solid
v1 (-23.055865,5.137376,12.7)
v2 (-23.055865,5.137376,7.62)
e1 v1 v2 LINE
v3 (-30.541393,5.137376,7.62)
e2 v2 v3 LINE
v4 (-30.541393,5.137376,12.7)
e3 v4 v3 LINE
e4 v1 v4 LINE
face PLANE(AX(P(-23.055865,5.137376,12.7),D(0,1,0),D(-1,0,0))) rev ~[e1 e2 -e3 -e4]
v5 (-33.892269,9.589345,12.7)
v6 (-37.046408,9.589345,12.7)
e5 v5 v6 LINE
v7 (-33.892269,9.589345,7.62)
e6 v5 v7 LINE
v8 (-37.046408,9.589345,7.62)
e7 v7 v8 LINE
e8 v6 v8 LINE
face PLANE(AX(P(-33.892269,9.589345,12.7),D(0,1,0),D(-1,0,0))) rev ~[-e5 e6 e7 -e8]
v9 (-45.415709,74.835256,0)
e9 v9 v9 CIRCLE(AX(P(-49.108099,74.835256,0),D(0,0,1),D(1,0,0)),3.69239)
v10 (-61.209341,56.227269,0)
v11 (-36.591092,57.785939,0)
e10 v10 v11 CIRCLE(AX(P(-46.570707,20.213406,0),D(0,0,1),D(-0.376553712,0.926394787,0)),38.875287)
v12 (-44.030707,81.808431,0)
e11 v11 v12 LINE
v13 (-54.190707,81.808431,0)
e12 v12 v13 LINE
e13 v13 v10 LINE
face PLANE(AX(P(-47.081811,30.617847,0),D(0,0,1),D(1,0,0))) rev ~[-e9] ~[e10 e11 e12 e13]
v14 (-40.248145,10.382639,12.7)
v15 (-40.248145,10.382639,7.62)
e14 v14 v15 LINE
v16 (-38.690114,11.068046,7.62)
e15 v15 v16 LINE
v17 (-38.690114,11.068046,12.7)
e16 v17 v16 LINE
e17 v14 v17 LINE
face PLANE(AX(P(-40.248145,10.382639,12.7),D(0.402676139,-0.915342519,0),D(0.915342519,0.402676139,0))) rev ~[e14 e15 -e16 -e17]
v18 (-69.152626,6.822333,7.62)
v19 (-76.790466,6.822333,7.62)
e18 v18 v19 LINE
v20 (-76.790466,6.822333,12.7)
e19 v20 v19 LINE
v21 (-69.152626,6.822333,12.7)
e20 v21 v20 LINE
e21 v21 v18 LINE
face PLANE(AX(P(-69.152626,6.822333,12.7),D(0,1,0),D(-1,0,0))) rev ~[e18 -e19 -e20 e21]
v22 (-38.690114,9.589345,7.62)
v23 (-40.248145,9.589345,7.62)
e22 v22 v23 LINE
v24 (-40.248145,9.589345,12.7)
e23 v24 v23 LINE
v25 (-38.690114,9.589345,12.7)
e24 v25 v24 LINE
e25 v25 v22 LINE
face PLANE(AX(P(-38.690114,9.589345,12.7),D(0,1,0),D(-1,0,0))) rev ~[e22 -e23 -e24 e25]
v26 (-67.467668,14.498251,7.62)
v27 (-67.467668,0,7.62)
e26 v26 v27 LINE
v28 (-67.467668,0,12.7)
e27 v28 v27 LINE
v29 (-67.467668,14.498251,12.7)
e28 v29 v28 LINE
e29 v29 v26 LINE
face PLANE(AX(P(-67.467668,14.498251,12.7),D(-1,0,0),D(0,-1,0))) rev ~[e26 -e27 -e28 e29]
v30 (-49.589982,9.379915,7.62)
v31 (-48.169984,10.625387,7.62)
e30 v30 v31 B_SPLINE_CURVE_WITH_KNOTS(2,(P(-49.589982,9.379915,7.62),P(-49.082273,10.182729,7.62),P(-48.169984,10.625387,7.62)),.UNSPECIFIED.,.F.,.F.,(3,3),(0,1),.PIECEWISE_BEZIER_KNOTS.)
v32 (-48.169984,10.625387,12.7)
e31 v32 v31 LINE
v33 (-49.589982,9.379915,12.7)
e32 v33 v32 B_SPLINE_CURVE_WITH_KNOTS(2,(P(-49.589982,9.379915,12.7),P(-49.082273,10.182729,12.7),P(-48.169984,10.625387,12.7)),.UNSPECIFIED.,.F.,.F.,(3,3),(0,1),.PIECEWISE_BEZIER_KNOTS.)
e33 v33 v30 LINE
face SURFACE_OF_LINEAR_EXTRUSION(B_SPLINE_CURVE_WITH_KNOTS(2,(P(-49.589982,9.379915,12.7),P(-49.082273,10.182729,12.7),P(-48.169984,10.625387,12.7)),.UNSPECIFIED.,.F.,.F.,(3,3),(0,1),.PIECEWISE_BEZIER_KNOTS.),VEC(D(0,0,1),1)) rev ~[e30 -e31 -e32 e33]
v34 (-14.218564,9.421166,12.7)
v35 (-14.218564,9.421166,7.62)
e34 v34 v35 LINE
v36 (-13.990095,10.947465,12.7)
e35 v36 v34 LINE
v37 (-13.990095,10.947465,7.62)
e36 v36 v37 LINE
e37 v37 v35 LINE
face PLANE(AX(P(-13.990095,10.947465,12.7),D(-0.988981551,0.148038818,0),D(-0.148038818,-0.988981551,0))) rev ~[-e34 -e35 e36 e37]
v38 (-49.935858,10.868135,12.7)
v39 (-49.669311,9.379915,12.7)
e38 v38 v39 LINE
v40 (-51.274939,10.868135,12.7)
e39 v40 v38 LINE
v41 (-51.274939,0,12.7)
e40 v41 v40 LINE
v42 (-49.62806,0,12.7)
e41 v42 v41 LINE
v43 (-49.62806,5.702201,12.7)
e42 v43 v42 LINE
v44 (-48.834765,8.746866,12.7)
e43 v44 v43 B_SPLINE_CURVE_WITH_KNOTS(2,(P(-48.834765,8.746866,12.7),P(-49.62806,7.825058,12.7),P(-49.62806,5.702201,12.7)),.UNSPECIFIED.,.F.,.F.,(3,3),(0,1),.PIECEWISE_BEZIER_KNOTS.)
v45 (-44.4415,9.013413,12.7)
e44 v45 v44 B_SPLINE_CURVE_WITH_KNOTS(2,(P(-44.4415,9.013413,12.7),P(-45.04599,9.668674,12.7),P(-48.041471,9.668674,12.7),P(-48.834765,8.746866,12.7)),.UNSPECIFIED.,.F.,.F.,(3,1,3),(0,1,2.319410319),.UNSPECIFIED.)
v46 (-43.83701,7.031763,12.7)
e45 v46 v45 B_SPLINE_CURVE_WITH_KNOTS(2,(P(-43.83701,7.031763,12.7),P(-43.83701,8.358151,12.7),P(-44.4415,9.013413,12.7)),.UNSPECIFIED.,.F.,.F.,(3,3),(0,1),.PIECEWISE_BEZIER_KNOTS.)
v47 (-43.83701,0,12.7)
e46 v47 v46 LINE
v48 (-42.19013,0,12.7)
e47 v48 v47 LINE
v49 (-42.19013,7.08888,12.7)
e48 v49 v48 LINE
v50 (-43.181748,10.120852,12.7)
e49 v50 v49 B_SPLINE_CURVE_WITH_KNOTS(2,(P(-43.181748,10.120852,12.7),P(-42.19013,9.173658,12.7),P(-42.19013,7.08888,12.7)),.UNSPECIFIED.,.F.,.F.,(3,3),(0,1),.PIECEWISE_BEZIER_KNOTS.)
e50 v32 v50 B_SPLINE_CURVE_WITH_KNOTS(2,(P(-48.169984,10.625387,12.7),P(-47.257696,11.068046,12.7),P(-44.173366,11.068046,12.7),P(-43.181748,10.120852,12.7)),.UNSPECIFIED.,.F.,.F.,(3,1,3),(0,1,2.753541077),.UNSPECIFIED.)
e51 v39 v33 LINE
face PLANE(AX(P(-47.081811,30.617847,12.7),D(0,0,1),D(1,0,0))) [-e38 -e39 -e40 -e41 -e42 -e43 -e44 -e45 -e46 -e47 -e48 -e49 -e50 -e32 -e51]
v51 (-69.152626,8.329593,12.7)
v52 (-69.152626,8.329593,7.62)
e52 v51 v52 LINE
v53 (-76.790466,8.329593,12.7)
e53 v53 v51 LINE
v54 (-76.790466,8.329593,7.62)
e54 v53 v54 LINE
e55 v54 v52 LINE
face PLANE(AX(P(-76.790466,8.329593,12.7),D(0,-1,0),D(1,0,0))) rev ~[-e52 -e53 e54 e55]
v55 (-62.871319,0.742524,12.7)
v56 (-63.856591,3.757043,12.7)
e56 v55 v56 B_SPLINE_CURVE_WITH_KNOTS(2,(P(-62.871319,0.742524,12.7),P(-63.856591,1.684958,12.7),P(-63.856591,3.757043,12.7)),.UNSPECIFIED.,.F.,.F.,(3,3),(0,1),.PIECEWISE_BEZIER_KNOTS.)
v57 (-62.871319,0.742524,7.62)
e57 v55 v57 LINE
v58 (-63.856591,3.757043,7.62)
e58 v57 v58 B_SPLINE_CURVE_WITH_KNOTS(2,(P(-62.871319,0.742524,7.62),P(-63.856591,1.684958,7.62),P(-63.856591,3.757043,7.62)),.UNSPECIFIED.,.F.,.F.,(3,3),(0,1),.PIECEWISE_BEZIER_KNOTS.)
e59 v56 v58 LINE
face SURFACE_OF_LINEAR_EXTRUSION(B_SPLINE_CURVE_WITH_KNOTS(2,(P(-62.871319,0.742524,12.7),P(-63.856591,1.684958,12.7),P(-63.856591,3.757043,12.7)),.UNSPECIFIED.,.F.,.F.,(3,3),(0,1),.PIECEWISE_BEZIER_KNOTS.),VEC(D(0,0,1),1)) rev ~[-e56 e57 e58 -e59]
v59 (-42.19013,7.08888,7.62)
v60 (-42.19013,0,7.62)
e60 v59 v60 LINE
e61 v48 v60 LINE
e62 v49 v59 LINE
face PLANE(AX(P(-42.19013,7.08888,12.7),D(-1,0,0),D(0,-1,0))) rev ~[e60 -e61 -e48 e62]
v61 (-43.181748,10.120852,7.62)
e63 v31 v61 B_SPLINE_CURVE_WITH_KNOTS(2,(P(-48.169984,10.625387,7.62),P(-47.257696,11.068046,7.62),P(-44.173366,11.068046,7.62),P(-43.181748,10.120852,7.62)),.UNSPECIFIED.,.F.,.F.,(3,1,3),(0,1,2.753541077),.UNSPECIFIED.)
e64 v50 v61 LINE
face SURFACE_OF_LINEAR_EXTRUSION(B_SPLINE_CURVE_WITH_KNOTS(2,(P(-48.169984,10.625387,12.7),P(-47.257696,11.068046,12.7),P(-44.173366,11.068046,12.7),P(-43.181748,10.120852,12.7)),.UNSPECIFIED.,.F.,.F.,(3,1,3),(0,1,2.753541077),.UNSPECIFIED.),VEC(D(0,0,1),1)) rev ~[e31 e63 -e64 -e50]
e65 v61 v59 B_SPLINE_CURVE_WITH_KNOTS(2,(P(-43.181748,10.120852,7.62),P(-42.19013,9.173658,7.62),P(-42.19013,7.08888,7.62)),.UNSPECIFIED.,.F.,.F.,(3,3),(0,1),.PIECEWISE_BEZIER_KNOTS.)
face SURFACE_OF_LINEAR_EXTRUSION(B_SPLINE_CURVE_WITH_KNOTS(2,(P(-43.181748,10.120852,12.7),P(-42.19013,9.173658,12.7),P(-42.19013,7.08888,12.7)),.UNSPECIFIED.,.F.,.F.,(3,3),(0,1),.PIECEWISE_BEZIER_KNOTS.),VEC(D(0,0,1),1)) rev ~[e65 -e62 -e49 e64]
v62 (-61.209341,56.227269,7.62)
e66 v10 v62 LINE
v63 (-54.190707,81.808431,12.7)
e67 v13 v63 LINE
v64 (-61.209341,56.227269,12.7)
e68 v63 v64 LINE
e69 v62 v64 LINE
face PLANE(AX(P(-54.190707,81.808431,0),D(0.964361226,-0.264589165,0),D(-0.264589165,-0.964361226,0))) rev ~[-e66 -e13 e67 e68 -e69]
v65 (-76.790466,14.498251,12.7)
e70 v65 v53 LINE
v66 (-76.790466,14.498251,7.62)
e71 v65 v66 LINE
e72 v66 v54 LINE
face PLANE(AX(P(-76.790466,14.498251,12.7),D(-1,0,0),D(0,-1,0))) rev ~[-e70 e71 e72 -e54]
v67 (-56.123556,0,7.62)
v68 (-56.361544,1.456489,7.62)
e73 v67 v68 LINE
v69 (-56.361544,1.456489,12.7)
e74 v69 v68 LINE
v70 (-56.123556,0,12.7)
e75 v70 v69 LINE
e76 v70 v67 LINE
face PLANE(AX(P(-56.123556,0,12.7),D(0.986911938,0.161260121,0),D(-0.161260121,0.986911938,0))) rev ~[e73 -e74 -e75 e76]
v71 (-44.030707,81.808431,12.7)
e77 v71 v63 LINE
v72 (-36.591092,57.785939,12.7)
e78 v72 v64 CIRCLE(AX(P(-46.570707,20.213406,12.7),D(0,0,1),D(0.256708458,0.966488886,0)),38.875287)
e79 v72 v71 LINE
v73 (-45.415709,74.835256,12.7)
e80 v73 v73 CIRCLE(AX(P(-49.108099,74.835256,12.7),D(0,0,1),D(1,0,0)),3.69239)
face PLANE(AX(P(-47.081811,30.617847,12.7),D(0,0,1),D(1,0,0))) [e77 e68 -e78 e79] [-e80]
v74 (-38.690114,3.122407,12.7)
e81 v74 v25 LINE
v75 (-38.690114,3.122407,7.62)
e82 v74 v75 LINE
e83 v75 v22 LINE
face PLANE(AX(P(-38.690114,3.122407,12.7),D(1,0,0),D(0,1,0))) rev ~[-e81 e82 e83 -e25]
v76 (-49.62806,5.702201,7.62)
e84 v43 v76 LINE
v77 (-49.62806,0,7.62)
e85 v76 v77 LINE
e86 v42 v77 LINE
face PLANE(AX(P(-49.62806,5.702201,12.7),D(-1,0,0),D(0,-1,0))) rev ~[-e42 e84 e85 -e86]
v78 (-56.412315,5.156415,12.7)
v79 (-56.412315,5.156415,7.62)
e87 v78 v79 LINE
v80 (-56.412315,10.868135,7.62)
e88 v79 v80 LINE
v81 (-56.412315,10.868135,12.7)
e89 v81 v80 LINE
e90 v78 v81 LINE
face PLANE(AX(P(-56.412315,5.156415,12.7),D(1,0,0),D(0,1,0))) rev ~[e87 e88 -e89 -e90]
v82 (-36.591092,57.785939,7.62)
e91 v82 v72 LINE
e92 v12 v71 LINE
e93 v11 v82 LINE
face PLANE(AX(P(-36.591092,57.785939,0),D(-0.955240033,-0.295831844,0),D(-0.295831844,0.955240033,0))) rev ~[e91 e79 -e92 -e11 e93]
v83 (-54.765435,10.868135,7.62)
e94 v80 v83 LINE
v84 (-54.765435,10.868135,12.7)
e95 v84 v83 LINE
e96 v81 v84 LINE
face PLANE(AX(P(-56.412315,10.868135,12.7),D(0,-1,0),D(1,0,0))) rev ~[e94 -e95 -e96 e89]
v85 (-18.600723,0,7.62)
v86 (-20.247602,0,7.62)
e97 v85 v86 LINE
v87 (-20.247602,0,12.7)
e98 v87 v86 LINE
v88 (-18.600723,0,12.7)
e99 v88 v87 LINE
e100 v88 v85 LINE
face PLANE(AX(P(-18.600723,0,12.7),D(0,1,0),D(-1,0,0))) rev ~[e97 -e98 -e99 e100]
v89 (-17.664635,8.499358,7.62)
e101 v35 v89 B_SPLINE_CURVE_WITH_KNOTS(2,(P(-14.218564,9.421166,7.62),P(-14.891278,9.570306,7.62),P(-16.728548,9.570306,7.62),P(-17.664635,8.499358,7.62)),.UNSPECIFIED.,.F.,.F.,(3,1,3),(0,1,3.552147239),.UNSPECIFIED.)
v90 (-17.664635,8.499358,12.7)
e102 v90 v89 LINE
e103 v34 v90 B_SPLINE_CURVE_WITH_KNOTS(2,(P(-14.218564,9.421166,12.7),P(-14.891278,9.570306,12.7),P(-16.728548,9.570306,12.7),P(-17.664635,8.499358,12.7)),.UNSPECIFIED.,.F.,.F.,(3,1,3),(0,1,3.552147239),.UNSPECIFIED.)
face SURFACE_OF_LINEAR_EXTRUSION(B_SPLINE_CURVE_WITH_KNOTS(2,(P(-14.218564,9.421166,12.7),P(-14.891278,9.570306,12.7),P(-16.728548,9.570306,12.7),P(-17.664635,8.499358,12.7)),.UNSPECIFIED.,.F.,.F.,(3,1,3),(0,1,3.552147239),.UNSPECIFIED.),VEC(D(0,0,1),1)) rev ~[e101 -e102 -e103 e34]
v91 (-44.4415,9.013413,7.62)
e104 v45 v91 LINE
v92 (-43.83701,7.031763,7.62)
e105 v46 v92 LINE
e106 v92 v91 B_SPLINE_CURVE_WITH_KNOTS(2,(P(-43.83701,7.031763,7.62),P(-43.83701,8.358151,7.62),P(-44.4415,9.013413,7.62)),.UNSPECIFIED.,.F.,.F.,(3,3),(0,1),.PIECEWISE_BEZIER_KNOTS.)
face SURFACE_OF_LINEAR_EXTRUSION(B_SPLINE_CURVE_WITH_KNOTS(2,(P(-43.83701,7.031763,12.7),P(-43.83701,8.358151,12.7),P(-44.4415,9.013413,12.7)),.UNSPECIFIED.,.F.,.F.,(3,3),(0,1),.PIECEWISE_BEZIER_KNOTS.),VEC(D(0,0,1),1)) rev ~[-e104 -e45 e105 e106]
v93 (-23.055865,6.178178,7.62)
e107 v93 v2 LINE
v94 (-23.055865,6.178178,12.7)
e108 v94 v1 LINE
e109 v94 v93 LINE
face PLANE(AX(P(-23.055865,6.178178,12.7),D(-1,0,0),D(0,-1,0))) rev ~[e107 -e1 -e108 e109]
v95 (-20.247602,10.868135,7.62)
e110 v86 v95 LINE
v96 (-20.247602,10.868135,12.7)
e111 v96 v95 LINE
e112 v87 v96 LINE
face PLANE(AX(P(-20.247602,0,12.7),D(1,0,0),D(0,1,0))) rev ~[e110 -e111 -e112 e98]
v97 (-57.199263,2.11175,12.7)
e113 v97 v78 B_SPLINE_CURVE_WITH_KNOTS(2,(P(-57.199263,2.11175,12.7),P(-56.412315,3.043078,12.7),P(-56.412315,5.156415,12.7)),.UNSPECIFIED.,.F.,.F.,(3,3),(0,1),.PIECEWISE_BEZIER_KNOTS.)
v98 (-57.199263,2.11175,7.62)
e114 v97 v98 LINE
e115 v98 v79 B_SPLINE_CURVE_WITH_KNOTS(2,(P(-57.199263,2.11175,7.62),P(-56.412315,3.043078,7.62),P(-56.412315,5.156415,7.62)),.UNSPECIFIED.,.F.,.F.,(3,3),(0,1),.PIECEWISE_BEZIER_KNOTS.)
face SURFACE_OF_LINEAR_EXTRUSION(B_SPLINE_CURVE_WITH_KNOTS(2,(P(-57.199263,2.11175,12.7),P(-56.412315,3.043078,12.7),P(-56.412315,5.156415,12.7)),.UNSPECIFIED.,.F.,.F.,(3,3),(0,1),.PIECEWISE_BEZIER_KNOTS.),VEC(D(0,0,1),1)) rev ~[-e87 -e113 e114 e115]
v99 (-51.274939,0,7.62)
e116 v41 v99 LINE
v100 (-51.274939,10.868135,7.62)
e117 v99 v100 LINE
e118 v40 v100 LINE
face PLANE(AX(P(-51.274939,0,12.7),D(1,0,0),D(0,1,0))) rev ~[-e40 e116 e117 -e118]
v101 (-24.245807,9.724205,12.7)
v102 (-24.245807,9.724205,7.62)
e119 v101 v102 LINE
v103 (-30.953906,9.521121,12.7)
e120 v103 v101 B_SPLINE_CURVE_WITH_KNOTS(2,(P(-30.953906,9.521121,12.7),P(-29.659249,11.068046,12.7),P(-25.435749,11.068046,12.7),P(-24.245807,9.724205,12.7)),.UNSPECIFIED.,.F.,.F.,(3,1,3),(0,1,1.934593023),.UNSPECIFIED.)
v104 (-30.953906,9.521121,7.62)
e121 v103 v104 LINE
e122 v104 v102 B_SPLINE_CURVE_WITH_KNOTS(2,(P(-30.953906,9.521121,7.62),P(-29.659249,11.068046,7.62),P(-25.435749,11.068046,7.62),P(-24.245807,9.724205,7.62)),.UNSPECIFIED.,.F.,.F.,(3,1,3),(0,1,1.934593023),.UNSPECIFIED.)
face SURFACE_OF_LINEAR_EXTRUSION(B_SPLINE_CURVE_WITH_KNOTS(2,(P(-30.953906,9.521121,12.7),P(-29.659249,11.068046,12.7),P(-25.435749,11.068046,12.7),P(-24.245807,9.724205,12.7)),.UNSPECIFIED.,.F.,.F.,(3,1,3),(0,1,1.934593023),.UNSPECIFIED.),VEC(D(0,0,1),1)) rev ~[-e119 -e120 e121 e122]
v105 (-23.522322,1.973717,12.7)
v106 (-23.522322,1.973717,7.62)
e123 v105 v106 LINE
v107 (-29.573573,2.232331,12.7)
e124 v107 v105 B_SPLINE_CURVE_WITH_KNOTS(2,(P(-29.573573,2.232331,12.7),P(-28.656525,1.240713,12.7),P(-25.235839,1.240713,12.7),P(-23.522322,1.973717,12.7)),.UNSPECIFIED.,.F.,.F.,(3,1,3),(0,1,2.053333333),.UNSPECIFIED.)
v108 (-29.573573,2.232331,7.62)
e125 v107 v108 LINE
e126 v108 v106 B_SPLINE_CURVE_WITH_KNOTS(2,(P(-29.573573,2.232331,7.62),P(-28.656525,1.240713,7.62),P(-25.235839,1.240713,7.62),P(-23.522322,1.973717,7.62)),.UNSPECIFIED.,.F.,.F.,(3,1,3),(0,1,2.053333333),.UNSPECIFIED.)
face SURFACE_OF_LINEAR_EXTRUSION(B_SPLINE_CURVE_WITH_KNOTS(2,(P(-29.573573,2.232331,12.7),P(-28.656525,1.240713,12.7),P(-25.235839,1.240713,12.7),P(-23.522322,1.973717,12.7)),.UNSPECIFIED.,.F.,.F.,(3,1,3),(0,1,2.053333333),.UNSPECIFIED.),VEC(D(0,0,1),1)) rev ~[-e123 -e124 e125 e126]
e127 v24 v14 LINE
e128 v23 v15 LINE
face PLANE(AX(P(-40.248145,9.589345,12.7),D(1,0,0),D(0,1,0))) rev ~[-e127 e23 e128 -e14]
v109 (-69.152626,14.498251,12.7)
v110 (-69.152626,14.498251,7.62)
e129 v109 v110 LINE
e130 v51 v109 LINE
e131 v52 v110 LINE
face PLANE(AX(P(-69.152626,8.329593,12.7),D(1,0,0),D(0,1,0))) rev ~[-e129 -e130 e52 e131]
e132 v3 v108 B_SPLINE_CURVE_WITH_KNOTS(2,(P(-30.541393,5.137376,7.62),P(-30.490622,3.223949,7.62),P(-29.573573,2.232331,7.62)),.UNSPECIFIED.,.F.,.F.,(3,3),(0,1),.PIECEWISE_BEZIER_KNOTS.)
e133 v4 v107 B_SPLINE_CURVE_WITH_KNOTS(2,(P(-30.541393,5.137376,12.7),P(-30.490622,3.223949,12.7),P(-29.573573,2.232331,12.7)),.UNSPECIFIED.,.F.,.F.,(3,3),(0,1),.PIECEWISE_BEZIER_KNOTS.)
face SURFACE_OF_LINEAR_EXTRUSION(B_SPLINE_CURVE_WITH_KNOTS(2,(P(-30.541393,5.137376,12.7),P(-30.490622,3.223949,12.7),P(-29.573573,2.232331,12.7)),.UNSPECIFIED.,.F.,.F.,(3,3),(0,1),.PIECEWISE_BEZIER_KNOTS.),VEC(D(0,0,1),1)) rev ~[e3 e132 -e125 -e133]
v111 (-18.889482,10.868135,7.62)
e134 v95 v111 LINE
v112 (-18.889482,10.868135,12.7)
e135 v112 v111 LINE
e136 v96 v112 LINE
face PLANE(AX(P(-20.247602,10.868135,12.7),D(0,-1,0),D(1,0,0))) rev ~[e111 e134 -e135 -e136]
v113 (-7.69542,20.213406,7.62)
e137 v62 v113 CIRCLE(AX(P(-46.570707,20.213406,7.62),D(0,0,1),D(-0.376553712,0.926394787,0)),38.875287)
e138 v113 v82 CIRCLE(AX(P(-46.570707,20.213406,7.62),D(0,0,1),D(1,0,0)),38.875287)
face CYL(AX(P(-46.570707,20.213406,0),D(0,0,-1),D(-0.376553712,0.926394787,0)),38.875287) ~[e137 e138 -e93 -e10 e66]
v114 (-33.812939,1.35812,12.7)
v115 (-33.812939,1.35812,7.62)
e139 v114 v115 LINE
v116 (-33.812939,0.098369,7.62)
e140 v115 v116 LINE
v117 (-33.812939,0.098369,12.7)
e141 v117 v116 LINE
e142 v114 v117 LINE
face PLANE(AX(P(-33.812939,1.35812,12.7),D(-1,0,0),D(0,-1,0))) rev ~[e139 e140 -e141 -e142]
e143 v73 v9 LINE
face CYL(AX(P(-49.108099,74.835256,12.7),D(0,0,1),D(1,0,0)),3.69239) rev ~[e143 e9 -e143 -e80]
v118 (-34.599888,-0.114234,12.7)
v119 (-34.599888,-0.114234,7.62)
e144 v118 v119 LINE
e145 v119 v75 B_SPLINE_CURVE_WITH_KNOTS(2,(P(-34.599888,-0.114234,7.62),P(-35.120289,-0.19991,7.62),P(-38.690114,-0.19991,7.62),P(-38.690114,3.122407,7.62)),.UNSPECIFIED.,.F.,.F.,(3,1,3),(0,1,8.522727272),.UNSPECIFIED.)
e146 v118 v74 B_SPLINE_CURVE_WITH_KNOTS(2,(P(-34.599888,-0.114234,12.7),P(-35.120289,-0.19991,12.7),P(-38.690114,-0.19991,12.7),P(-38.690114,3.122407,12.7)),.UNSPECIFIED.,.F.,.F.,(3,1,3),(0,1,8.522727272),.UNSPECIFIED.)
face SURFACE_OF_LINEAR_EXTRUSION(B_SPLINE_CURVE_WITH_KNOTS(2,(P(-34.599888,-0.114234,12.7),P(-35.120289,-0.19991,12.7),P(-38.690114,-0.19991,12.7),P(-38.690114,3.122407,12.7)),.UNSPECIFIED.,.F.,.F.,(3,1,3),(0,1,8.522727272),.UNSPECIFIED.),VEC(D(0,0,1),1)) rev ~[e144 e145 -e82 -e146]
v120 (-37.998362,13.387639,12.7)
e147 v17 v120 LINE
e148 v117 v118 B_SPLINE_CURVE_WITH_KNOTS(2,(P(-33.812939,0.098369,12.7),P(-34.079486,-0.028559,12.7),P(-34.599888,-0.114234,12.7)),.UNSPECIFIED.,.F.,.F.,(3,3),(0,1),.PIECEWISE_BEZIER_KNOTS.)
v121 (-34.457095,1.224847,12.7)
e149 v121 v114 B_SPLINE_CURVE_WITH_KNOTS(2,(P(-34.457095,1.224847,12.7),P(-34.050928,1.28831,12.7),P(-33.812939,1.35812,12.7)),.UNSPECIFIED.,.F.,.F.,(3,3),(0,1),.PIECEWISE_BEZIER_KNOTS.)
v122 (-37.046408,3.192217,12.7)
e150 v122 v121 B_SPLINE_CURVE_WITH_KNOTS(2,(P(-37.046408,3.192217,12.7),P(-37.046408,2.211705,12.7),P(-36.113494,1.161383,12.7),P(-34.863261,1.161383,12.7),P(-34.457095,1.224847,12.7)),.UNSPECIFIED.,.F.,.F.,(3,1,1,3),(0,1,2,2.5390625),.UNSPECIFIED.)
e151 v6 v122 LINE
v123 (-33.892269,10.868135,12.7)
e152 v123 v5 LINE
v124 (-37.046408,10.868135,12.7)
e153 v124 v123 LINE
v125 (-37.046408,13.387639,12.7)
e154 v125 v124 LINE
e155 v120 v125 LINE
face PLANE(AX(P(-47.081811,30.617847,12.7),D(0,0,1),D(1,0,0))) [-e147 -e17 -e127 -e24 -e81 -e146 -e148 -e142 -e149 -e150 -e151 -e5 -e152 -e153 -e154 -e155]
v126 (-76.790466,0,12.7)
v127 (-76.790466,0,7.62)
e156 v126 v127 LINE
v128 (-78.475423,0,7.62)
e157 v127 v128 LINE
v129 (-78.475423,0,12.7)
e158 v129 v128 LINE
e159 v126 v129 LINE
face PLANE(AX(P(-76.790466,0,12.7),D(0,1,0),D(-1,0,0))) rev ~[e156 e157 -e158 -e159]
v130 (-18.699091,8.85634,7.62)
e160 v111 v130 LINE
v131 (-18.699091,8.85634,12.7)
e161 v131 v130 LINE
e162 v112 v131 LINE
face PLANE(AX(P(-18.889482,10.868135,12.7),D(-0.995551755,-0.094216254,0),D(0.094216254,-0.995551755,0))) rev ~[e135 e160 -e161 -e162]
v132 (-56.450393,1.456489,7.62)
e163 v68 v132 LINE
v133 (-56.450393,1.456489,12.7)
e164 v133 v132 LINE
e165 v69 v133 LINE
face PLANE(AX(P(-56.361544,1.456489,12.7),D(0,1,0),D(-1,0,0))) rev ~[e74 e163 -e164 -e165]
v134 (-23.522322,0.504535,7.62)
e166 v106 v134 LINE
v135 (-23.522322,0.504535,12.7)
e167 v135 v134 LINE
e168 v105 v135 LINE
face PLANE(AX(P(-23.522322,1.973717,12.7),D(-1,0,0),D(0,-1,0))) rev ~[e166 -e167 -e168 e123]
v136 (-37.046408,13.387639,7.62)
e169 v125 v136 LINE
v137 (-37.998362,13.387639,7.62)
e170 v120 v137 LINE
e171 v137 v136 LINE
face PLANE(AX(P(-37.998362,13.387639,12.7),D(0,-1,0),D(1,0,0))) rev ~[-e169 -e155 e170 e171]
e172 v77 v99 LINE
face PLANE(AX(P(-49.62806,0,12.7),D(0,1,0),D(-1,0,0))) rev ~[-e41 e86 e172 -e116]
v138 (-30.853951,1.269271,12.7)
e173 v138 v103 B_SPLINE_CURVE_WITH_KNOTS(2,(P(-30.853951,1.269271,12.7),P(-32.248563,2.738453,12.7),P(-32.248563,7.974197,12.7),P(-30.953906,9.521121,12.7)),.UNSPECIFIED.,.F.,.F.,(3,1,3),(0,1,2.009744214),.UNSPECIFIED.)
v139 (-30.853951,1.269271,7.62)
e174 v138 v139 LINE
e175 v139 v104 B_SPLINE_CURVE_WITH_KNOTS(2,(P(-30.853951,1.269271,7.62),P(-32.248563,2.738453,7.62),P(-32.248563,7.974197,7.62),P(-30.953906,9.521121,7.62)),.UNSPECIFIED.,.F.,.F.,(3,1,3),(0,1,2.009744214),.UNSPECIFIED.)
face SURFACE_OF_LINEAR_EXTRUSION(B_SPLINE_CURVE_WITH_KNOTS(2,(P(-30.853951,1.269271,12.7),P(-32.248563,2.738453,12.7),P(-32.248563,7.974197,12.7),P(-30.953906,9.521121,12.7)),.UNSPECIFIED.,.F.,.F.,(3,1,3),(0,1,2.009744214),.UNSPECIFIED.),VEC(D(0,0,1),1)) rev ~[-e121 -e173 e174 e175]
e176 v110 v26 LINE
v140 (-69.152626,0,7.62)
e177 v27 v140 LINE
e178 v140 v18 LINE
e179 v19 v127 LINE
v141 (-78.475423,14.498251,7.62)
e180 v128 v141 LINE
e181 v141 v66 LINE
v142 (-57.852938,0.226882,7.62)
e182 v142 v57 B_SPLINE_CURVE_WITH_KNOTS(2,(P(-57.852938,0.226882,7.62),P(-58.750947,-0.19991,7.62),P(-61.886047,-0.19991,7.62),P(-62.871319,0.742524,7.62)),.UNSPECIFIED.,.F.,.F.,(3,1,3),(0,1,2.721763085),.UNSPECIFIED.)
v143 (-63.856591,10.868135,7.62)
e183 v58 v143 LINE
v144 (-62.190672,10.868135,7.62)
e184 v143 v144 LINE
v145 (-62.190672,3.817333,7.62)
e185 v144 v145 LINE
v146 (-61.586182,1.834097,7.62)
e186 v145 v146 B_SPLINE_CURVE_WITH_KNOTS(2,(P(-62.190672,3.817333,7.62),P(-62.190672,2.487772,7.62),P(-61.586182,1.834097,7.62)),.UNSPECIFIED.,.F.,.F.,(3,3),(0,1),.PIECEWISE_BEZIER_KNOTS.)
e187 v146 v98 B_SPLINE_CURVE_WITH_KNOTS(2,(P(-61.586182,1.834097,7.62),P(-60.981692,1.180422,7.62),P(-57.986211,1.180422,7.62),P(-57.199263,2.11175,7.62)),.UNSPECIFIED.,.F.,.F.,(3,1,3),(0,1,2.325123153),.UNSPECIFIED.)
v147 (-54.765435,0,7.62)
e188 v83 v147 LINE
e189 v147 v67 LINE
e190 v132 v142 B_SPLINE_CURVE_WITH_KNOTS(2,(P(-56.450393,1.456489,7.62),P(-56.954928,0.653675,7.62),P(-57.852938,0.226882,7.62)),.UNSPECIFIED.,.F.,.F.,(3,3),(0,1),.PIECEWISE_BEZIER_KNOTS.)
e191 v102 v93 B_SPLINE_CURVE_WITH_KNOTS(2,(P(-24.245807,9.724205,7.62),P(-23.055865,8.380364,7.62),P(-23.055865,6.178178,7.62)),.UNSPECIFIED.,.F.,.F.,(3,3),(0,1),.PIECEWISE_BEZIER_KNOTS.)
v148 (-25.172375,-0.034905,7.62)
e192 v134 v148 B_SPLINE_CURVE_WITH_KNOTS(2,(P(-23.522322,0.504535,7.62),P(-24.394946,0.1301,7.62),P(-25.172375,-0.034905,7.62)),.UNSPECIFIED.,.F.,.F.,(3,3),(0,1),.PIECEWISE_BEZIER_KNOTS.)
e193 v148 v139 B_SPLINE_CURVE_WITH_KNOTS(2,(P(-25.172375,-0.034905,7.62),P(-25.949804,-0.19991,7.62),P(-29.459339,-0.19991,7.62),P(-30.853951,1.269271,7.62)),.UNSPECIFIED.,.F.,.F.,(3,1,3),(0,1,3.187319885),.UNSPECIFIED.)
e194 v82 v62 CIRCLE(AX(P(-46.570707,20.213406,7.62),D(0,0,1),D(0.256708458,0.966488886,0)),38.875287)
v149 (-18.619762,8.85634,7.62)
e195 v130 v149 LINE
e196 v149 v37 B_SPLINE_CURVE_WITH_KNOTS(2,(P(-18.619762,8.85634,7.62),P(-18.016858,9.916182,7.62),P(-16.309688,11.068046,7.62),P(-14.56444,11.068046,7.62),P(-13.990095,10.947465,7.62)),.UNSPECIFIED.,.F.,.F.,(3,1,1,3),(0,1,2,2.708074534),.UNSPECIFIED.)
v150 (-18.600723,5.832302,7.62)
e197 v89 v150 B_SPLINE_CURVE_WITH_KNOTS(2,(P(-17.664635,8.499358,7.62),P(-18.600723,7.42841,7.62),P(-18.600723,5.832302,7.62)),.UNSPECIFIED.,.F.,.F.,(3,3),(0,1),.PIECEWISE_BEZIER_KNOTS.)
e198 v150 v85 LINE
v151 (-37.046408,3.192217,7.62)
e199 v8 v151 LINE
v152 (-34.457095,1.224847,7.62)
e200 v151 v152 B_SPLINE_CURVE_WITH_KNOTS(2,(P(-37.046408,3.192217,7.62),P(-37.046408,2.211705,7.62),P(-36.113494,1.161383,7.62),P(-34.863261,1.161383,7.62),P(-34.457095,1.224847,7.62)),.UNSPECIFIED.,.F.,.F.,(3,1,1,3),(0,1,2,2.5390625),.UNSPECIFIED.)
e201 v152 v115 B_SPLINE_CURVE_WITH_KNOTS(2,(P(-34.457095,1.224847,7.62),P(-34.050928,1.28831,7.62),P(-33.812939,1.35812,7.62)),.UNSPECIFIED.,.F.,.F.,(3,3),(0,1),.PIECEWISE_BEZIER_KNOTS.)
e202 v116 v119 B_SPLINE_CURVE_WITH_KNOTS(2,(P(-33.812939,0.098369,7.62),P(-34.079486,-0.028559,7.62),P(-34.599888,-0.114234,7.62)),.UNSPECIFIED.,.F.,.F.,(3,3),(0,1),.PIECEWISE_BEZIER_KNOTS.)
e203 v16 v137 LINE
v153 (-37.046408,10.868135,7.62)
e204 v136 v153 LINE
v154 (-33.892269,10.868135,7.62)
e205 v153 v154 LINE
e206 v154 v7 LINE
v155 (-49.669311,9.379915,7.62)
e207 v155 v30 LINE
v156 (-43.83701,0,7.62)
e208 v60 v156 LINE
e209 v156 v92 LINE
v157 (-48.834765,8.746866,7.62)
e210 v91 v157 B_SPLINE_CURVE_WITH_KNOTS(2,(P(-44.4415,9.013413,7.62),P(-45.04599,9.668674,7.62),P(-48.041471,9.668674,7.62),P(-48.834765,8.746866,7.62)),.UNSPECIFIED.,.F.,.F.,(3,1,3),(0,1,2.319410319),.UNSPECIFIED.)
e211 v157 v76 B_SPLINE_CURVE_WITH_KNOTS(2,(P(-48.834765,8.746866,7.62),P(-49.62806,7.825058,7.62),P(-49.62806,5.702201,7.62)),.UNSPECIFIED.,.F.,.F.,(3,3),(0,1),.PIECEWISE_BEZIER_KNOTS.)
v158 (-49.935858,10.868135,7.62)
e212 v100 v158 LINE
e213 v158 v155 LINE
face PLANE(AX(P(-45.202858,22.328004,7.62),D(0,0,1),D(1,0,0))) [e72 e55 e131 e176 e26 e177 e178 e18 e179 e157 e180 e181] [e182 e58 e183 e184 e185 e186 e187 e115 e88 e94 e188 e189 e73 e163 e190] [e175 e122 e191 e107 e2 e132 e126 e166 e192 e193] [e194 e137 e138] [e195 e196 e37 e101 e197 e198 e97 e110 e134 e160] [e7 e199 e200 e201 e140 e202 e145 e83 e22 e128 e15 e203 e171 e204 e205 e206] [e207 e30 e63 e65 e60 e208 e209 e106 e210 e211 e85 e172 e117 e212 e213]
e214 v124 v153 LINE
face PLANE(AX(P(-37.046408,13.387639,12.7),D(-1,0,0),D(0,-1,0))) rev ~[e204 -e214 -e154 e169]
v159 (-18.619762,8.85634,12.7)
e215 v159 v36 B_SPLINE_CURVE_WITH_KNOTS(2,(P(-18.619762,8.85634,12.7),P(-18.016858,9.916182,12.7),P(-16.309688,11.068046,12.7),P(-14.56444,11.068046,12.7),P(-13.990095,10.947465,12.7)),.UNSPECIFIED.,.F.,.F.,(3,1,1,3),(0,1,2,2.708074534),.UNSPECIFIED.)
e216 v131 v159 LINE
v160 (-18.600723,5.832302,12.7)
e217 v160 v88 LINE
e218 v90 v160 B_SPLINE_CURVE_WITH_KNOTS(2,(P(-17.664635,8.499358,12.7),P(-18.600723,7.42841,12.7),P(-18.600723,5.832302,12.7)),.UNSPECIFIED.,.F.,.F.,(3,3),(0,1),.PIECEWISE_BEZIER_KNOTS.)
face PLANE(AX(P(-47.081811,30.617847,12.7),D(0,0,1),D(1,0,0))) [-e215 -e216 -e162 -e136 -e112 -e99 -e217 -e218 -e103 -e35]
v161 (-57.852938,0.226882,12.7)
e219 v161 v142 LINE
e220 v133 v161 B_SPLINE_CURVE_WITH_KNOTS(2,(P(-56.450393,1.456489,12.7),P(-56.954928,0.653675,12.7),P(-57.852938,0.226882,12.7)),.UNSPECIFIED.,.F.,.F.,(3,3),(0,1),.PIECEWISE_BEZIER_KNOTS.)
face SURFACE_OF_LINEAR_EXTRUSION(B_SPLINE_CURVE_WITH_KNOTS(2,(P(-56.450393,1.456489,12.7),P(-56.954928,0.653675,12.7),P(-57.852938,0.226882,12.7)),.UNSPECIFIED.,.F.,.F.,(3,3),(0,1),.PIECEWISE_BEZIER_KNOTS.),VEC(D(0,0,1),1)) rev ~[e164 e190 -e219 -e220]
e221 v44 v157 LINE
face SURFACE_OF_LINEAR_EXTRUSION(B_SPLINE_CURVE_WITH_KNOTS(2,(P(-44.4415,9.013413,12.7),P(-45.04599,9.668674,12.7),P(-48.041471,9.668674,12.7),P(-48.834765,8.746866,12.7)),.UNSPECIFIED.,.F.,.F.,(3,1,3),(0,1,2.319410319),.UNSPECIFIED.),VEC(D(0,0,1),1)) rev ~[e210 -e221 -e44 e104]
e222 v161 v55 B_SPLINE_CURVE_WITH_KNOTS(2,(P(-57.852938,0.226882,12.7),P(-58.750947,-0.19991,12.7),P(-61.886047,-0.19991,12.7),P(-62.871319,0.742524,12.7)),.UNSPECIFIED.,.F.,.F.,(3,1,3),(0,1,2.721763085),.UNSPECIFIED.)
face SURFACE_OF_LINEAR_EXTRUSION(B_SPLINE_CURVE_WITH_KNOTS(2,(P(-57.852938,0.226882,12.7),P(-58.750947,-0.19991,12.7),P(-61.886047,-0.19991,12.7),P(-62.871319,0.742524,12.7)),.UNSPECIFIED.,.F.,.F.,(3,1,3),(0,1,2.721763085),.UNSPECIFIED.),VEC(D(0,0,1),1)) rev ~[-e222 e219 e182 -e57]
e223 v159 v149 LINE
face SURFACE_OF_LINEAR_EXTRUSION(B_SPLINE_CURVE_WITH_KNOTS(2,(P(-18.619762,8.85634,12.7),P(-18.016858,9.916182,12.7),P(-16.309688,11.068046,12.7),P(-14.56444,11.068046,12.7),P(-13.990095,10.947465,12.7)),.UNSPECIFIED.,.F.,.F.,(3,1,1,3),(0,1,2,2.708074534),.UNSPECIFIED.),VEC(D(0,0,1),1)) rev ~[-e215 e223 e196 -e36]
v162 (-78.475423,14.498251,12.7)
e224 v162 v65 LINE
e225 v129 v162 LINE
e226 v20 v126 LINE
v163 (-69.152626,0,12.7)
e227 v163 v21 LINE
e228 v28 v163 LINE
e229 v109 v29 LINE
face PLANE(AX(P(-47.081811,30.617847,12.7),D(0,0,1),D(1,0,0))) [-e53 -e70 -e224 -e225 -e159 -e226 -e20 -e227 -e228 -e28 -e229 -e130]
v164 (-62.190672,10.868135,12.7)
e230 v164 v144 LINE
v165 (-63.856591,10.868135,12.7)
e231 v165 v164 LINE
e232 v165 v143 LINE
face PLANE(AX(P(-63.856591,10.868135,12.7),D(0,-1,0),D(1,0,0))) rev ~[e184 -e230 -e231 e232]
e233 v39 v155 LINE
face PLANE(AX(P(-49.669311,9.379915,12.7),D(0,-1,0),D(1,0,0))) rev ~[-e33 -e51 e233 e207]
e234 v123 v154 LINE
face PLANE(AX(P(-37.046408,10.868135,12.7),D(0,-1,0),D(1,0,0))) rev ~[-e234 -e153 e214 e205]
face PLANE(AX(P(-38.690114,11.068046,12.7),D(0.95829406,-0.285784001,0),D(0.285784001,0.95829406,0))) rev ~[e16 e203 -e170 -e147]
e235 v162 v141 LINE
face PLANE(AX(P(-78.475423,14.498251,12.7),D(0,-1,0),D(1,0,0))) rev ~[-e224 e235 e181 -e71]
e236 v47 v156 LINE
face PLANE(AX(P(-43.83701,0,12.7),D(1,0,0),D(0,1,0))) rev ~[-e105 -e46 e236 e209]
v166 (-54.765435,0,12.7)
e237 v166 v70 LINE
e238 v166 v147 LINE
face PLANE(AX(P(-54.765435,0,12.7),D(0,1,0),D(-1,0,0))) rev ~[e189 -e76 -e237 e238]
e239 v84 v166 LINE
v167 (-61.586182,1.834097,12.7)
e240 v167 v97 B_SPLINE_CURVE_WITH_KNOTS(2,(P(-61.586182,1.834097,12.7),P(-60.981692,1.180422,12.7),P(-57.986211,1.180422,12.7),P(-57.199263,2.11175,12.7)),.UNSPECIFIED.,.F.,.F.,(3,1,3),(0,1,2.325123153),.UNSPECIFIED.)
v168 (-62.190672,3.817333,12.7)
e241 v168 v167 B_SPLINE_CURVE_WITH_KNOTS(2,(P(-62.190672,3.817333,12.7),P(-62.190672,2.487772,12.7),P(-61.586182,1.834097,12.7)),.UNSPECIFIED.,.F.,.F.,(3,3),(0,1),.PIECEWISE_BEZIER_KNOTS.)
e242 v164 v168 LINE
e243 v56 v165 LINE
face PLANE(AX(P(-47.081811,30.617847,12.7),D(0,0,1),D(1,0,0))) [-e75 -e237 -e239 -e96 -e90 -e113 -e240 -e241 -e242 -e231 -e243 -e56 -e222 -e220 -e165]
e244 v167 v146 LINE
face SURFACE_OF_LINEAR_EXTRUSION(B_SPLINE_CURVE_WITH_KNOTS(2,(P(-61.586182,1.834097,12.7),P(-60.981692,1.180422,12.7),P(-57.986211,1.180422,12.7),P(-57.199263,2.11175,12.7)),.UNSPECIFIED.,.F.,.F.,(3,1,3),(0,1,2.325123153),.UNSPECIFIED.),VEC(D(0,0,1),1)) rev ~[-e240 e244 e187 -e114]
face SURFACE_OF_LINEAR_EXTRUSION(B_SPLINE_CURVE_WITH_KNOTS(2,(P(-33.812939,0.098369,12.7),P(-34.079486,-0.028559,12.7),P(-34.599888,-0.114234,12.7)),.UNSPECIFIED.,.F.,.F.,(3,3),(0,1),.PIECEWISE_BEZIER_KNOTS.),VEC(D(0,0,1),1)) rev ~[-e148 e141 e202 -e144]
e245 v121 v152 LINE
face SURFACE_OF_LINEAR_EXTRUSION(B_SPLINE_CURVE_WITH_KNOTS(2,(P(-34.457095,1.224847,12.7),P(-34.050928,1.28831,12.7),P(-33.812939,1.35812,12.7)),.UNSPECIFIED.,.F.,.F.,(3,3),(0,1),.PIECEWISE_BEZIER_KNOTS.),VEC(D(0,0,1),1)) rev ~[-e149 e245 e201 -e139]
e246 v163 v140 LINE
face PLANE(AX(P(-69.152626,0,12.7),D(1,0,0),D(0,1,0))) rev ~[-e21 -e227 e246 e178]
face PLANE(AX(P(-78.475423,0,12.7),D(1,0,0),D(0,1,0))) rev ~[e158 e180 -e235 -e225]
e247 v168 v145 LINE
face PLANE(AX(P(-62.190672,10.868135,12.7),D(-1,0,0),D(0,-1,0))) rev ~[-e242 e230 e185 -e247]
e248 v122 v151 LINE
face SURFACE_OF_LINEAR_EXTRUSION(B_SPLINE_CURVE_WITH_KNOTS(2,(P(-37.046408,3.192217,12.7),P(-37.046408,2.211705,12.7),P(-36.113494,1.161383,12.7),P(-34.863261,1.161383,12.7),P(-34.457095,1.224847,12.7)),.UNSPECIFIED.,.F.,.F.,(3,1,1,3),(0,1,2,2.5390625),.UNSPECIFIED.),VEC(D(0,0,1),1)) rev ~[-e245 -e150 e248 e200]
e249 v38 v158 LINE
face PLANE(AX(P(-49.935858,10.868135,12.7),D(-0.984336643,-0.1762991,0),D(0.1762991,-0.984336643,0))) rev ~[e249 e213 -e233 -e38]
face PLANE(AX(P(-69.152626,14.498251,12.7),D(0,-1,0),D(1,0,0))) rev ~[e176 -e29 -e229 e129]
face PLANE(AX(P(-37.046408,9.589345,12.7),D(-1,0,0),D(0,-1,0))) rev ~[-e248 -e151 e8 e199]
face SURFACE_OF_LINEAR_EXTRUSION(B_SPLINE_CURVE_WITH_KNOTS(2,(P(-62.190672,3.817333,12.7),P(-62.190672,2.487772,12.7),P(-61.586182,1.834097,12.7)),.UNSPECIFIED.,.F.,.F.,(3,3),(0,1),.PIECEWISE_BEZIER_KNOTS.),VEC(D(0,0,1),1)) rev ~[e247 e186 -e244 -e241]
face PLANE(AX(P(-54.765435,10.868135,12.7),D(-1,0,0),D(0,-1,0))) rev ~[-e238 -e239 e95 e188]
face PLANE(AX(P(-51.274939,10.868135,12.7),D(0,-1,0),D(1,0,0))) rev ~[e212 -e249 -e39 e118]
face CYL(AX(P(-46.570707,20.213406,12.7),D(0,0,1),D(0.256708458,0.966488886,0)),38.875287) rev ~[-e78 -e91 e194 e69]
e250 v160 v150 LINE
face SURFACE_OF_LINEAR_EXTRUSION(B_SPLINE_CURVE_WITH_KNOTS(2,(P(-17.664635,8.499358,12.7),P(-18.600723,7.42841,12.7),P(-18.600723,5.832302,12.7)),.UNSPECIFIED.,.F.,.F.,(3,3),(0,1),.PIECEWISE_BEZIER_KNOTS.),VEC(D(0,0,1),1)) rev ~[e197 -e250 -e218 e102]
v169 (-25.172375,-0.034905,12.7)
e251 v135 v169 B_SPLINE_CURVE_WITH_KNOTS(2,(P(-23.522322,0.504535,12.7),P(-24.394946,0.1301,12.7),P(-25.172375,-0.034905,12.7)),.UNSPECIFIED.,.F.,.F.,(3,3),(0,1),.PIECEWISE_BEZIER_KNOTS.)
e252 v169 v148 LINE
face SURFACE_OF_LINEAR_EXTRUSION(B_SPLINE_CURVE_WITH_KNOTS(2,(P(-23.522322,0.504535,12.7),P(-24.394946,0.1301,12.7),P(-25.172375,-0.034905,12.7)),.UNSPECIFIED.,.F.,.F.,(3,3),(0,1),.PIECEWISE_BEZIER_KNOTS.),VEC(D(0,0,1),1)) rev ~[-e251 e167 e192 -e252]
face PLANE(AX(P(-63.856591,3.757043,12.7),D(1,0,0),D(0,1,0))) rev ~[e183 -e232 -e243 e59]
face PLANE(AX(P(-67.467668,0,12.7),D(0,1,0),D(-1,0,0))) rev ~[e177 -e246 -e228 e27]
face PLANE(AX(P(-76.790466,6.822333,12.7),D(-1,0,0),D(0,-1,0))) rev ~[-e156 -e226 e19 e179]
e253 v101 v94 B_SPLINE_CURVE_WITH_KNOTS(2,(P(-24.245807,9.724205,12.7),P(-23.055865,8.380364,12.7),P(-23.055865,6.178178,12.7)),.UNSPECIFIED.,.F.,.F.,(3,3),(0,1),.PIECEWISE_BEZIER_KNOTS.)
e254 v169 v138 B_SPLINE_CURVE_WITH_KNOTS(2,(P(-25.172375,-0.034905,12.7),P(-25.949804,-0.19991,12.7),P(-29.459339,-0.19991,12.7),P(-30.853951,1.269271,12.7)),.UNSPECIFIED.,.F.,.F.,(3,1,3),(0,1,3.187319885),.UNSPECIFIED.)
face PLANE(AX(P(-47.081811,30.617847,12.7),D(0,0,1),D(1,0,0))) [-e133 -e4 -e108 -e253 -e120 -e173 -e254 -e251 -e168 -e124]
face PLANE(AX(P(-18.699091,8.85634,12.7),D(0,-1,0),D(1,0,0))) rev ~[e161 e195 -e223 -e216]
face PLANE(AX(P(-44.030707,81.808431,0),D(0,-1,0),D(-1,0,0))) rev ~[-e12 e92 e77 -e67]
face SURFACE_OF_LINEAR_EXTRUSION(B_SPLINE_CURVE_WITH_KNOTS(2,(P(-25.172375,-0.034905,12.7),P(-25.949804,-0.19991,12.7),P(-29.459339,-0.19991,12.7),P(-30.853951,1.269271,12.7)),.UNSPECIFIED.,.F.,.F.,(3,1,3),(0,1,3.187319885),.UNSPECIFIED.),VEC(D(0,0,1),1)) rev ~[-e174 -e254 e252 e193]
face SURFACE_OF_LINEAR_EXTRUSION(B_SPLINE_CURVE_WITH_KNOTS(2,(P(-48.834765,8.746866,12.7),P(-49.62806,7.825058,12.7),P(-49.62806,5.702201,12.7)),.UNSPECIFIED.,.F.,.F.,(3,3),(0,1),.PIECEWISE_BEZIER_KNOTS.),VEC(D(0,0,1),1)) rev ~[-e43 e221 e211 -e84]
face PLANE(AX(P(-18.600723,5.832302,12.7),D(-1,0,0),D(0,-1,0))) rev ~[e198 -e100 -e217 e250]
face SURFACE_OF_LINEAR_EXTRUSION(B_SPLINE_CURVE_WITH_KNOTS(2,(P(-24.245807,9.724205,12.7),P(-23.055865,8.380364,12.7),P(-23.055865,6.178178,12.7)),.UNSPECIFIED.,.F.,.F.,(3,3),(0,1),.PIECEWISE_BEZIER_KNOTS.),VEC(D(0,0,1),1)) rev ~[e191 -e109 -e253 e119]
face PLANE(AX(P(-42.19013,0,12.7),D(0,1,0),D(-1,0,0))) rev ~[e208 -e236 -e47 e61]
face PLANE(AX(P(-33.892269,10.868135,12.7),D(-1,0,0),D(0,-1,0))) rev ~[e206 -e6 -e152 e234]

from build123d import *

# Parameters (mm, degrees)
F1_DEPTH = 12.7
F3_DEPTH = 5.08
F2_R     = 3.6923904974
F4_DEPTH = 12.701


with BuildPart() as f1:
    # F0 (on Top) → F1 (new body)
    with BuildSketch(Plane.XY):
        with BuildLine():
            Line((-54.1907071126, 81.808431102), (-61.2093408165, 56.2272694019))
            ThreePointArc((-61.2093408165, 56.2272694019), (-44.1142917545, -18.5841968693), (-36.5910920494, 57.7859390103))
            Line((-36.5910920494, 57.7859390103), (-44.0307071126, 81.808431102))
            Line((-44.0307071126, 81.808431102), (-54.1907071126, 81.808431102))
        make_face()
    extrude(amount=F1_DEPTH)

    # F2 (on face) → F3 (cut)
    with BuildSketch(Plane.XY.offset(12.7)):
        with BuildLine():
            ThreePointArc((-61.2093408165, 56.2272694019), (-68.2756243995, -12.0384858735), (-7.695419858, 20.2134059267))
            ThreePointArc((-7.695419858, 20.2134059267), (-15.7547342949, 43.9128527226), (-36.5910920494, 57.7859390103))
            ThreePointArc((-36.5910920494, 57.7859390103), (-49.0271224706, 59.0110087227), (-61.2093408165, 56.2272694019))
        make_face()
        with BuildLine():
            Line((-63.8565910506, 10.8681354841), (-62.1906724727, 10.8681354841))
            Line((-62.1906724727, 10.8681354841), (-62.1906724727, 3.817333427))
            add(Edge.make_bspline(
                [(-62.1906724727, 3.817333427), (-62.1906724727, 2.4877717429), (-61.5861820173, 1.8340970248)],
                knots=[0, 0, 0, 1, 1, 1], degree=2))
            add(Edge.make_bspline(
                [(-61.5861820173, 1.8340970248), (-60.9816915619, 1.1804223066), (-59.693381195, 1.1804223066)],
                knots=[0, 0, 0, 1, 1, 1], degree=2))
            add(Edge.make_bspline(
                [(-59.693381195, 1.1804223066), (-57.9862113, 1.1804223066), (-57.1992630956, 2.1117501211)],
                knots=[0, 0, 0, 1, 1, 1], degree=2))
            add(Edge.make_bspline(
                [(-57.1992630956, 2.1117501211), (-56.4123148912, 3.0430779355), (-56.4123148912, 5.1564146457)],
                knots=[0, 0, 0, 1, 1, 1], degree=2))
            Line((-56.4123148912, 5.1564146457), (-56.4123148912, 10.8681354841))
            Line((-56.4123148912, 10.8681354841), (-54.7654353828, 10.8681354841))
            Line((-54.7654353828, 10.8681354841), (-54.7654353828, 0))
            Line((-54.7654353828, 0), (-56.1235556711, 0))
            Line((-56.1235556711, 0), (-56.3615440393, 1.4564888138))
            Line((-56.3615440393, 1.4564888138), (-56.4503930302, 1.4564888138))
            add(Edge.make_bspline(
                [(-56.4503930302, 1.4564888138), (-56.9549283709, 0.6536747182), (-57.8529378138, 0.2268822444)],
                knots=[0, 0, 0, 1, 1, 1], degree=2))
            add(Edge.make_bspline(
                [(-57.8529378138, 0.2268822444), (-58.7509472567, -0.1999102293), (-59.9028109591, -0.1999102293)],
                knots=[0, 0, 0, 1, 1, 1], degree=2))
            add(Edge.make_bspline(
                [(-59.9028109591, -0.1999102293), (-61.8860473613, -0.1999102293), (-62.8713192059, 0.742523709)],
                knots=[0, 0, 0, 1, 1, 1], degree=2))
            add(Edge.make_bspline(
                [(-62.8713192059, 0.742523709), (-63.8565910506, 1.6849576473), (-63.8565910506, 3.7570430403)],
                knots=[0, 0, 0, 1, 1, 1], degree=2))
            Line((-63.8565910506, 3.7570430403), (-63.8565910506, 10.8681354841))
        make_face(mode=Mode.SUBTRACT)
        with BuildLine():
            Line((-42.1901300037, 0), (-43.8370095121, 0))
            Line((-43.8370095121, 0), (-43.8370095121, 7.0317629877))
            add(Edge.make_bspline(
                [(-43.8370095121, 7.0317629877), (-43.8370095121, 8.3581514935), (-44.4414999675, 9.0134128008)],
                knots=[0, 0, 0, 1, 1, 1], degree=2))
            add(Edge.make_bspline(
                [(-44.4414999675, 9.0134128008), (-45.0459904229, 9.668674108), (-46.337473968, 9.668674108)],
                knots=[0, 0, 0, 1, 1, 1], degree=2))
            add(Edge.make_bspline(
                [(-46.337473968, 9.668674108), (-48.0414706848, 9.668674108), (-48.8347652457, 8.7468658283)],
                knots=[0, 0, 0, 1, 1, 1], degree=2))
            add(Edge.make_bspline(
                [(-48.8347652457, 8.7468658283), (-49.6280598066, 7.8250575485), (-49.6280598066, 5.7022013036)],
                knots=[0, 0, 0, 1, 1, 1], degree=2))
            Line((-49.6280598066, 5.7022013036), (-49.6280598066, 0))
            Line((-49.6280598066, 0), (-51.274939315, 0))
            Line((-51.274939315, 0), (-51.274939315, 10.8681354841))
            Line((-51.274939315, 10.8681354841), (-49.9358580962, 10.8681354841))
            Line((-49.9358580962, 10.8681354841), (-49.6693111237, 9.3799148879))
            Line((-49.6693111237, 9.3799148879), (-49.5899816676, 9.3799148879))
            add(Edge.make_bspline(
                [(-49.5899816676, 9.3799148879), (-49.0822731487, 10.1827289835), (-48.1699844037, 10.6253873485)],
                knots=[0, 0, 0, 1, 1, 1], degree=2))
            add(Edge.make_bspline(
                [(-48.1699844037, 10.6253873485), (-47.2576956586, 11.0680457134), (-46.1375637387, 11.0680457134)],
                knots=[0, 0, 0, 1, 1, 1], degree=2))
            add(Edge.make_bspline(
                [(-46.1375637387, 11.0680457134), (-44.1733664059, 11.0680457134), (-43.1817482048, 10.1208520077)],
                knots=[0, 0, 0, 1, 1, 1], degree=2))
            add(Edge.make_bspline(
                [(-43.1817482048, 10.1208520077), (-42.1901300037, 9.1736583021), (-42.1901300037, 7.0888801961)],
                knots=[0, 0, 0, 1, 1, 1], degree=2))
            Line((-42.1901300037, 7.0888801961), (-42.1901300037, 0))
        make_face(mode=Mode.SUBTRACT)
        Polygon((-67.4676678917, 14.4982513947), (-67.4676678917, 0), (-69.152625539, 0), (-69.152625539, 6.8223332236), (-76.7904655712, 6.8223332236), (-76.7904655712, 0), (-78.4754232185, 0), (-78.4754232185, 14.4982513947), (-76.7904655712, 14.4982513947), (-76.7904655712, 8.3295928893), (-69.152625539, 8.3295928893), (-69.152625539, 14.4982513947), align=None, mode=Mode.SUBTRACT)
        with BuildLine():
            add(Edge.make_bspline(
                [(-25.1723750837, -0.0349049607), (-25.9498037533, -0.1999102293), (-27.0508966038, -0.1999102293)],
                knots=[0, 0, 0, 1, 1, 1], degree=2))
            add(Edge.make_bspline(
                [(-27.0508966038, -0.1999102293), (-29.4593388907, -0.1999102293), (-30.8539507287, 1.2692712974)],
                knots=[0, 0, 0, 1, 1, 1], degree=2))
            add(Edge.make_bspline(
                [(-30.8539507287, 1.2692712974), (-32.2485625667, 2.7384528242), (-32.2485625667, 5.3436321621)],
                knots=[0, 0, 0, 1, 1, 1], degree=2))
            add(Edge.make_bspline(
                [(-32.2485625667, 5.3436321621), (-32.2485625667, 7.974196926), (-30.9539058434, 9.5211213197)],
                knots=[0, 0, 0, 1, 1, 1], degree=2))
            add(Edge.make_bspline(
                [(-30.9539058434, 9.5211213197), (-29.65924912, 11.0680457134), (-27.4761024885, 11.0680457134)],
                knots=[0, 0, 0, 1, 1, 1], degree=2))
            add(Edge.make_bspline(
                [(-27.4761024885, 11.0680457134), (-25.4357488779, 11.0680457134), (-24.2458070366, 9.7242047273)],
                knots=[0, 0, 0, 1, 1, 1], degree=2))
            add(Edge.make_bspline(
                [(-24.2458070366, 9.7242047273), (-23.0558651952, 8.3803637412), (-23.0558651952, 6.1781780402)],
                knots=[0, 0, 0, 1, 1, 1], degree=2))
            Line((-23.0558651952, 6.1781780402), (-23.0558651952, 5.1373755763))
            Line((-23.0558651952, 5.1373755763), (-30.5413926717, 5.1373755763))
            add(Edge.make_bspline(
                [(-30.5413926717, 5.1373755763), (-30.4906218198, 3.2239490954), (-29.5735733074, 2.2323308943)],
                knots=[0, 0, 0, 1, 1, 1], degree=2))
            add(Edge.make_bspline(
                [(-29.5735733074, 2.2323308943), (-28.6565247951, 1.2407126932), (-26.9906062172, 1.2407126932)],
                knots=[0, 0, 0, 1, 1, 1], degree=2))
            add(Edge.make_bspline(
                [(-26.9906062172, 1.2407126932), (-25.2358386485, 1.2407126932), (-23.522322397, 1.9737168675)],
                knots=[0, 0, 0, 1, 1, 1], degree=2))
            Line((-23.522322397, 1.9737168675), (-23.522322397, 0.5045353407))
            add(Edge.make_bspline(
                [(-23.522322397, 0.5045353407), (-24.394946414, 0.130100308), (-25.1723750837, -0.0349049607)],
                knots=[0, 0, 0, 1, 1, 1], degree=2))
        make_face(mode=Mode.SUBTRACT)
        with BuildLine():
            add(Edge.make_bspline(
                [(-17.163273197, 10.4921138622), (-16.3096882495, 11.0680457134), (-15.2879248551, 11.0680457134)],
                knots=[0, 0, 0, 1, 1, 1], degree=2))
            add(Edge.make_bspline(
                [(-15.2879248551, 11.0680457134), (-14.5644402155, 11.0680457134), (-13.9900949535, 10.9474649402)],
                knots=[0, 0, 0, 1, 1, 1], degree=2))
            Line((-13.9900949535, 10.9474649402), (-14.218563787, 9.421166205))
            add(Edge.make_bspline(
                [(-14.218563787, 9.421166205), (-14.8912775746, 9.5703055825), (-15.4085056283, 9.5703055825)],
                knots=[0, 0, 0, 1, 1, 1], degree=2))
            add(Edge.make_bspline(
                [(-15.4085056283, 9.5703055825), (-16.7285477776, 9.5703055825), (-17.6646353595, 8.4993579253)],
                knots=[0, 0, 0, 1, 1, 1], degree=2))
            add(Edge.make_bspline(
                [(-17.6646353595, 8.4993579253), (-18.6007229413, 7.4284102681), (-18.6007229413, 5.8323016116)],
                knots=[0, 0, 0, 1, 1, 1], degree=2))
            Line((-18.6007229413, 5.8323016116), (-18.6007229413, 0))
            Line((-18.6007229413, 0), (-20.2476024497, 0))
            Line((-20.2476024497, 0), (-20.2476024497, 10.8681354841))
            Line((-20.2476024497, 10.8681354841), (-18.8894821615, 10.8681354841))
            Line((-18.8894821615, 10.8681354841), (-18.6990914669, 8.8563404777))
            Line((-18.6990914669, 8.8563404777), (-18.6197620108, 8.8563404777))
            add(Edge.make_bspline(
                [(-18.6197620108, 8.8563404777), (-18.0168581445, 9.916182011), (-17.163273197, 10.4921138622)],
                knots=[0, 0, 0, 1, 1, 1], degree=2))
        make_face(mode=Mode.SUBTRACT)
        with BuildLine():
            add(Edge.make_bspline(
                [(-36.5799508692, 1.6865442364), (-36.1134936674, 1.1613832371), (-35.301160037, 1.1613832371)],
                knots=[0, 0, 0, 1, 1, 1], degree=2))
            add(Edge.make_bspline(
                [(-35.301160037, 1.1613832371), (-34.8632614394, 1.1613832371), (-34.4570946242, 1.224846802)],
                knots=[0, 0, 0, 1, 1, 1], degree=2))
            add(Edge.make_bspline(
                [(-34.4570946242, 1.224846802), (-34.0509278091, 1.2883103669), (-33.8129394408, 1.3581202882)],
                knots=[0, 0, 0, 1, 1, 1], degree=2))
            Line((-33.8129394408, 1.3581202882), (-33.8129394408, 0.0983685256))
            add(Edge.make_bspline(
                [(-33.8129394408, 0.0983685256), (-34.0794864133, -0.0285586042), (-34.5998876452, -0.1142344168)],
                knots=[0, 0, 0, 1, 1, 1], degree=2))
            add(Edge.make_bspline(
                [(-34.5998876452, -0.1142344168), (-35.1202888771, -0.1999102293), (-35.5391484053, -0.1999102293)],
                knots=[0, 0, 0, 1, 1, 1], degree=2))
            add(Edge.make_bspline(
                [(-35.5391484053, -0.1999102293), (-38.6901144011, -0.1999102293), (-38.6901144011, 3.1224073916)],
                knots=[0, 0, 0, 1, 1, 1], degree=2))
            Line((-38.6901144011, 3.1224073916), (-38.6901144011, 9.589344652))
            Line((-38.6901144011, 9.589344652), (-40.2481449187, 9.589344652))
            Line((-40.2481449187, 9.589344652), (-40.2481449187, 10.3826392128))
            Line((-40.2481449187, 10.3826392128), (-38.6901144011, 11.0680457134))
            Line((-38.6901144011, 11.0680457134), (-37.998361544, 13.3876390095))
            Line((-37.998361544, 13.3876390095), (-37.046408071, 13.3876390095))
            Line((-37.046408071, 13.3876390095), (-37.046408071, 10.8681354841))
            Line((-37.046408071, 10.8681354841), (-33.8922688969, 10.8681354841))
            Line((-33.8922688969, 10.8681354841), (-33.8922688969, 9.589344652))
            Line((-33.8922688969, 9.589344652), (-37.046408071, 9.589344652))
            Line((-37.046408071, 9.589344652), (-37.046408071, 3.192217313))
            add(Edge.make_bspline(
                [(-37.046408071, 3.192217313), (-37.046408071, 2.2117052357), (-36.5799508692, 1.6865442364)],
                knots=[0, 0, 0, 1, 1, 1], degree=2))
        make_face(mode=Mode.SUBTRACT)
    extrude(amount=-F3_DEPTH, mode=Mode.SUBTRACT)

    # F2 (on face) → F4 (cut, through all)
    with BuildSketch(Plane.XY.offset(12.7)):
        with Locations((-49.1080991924, 74.8352557421)):
            Circle(F2_R)
    extrude(amount=-F4_DEPTH, mode=Mode.SUBTRACT)


solid = f1.part
